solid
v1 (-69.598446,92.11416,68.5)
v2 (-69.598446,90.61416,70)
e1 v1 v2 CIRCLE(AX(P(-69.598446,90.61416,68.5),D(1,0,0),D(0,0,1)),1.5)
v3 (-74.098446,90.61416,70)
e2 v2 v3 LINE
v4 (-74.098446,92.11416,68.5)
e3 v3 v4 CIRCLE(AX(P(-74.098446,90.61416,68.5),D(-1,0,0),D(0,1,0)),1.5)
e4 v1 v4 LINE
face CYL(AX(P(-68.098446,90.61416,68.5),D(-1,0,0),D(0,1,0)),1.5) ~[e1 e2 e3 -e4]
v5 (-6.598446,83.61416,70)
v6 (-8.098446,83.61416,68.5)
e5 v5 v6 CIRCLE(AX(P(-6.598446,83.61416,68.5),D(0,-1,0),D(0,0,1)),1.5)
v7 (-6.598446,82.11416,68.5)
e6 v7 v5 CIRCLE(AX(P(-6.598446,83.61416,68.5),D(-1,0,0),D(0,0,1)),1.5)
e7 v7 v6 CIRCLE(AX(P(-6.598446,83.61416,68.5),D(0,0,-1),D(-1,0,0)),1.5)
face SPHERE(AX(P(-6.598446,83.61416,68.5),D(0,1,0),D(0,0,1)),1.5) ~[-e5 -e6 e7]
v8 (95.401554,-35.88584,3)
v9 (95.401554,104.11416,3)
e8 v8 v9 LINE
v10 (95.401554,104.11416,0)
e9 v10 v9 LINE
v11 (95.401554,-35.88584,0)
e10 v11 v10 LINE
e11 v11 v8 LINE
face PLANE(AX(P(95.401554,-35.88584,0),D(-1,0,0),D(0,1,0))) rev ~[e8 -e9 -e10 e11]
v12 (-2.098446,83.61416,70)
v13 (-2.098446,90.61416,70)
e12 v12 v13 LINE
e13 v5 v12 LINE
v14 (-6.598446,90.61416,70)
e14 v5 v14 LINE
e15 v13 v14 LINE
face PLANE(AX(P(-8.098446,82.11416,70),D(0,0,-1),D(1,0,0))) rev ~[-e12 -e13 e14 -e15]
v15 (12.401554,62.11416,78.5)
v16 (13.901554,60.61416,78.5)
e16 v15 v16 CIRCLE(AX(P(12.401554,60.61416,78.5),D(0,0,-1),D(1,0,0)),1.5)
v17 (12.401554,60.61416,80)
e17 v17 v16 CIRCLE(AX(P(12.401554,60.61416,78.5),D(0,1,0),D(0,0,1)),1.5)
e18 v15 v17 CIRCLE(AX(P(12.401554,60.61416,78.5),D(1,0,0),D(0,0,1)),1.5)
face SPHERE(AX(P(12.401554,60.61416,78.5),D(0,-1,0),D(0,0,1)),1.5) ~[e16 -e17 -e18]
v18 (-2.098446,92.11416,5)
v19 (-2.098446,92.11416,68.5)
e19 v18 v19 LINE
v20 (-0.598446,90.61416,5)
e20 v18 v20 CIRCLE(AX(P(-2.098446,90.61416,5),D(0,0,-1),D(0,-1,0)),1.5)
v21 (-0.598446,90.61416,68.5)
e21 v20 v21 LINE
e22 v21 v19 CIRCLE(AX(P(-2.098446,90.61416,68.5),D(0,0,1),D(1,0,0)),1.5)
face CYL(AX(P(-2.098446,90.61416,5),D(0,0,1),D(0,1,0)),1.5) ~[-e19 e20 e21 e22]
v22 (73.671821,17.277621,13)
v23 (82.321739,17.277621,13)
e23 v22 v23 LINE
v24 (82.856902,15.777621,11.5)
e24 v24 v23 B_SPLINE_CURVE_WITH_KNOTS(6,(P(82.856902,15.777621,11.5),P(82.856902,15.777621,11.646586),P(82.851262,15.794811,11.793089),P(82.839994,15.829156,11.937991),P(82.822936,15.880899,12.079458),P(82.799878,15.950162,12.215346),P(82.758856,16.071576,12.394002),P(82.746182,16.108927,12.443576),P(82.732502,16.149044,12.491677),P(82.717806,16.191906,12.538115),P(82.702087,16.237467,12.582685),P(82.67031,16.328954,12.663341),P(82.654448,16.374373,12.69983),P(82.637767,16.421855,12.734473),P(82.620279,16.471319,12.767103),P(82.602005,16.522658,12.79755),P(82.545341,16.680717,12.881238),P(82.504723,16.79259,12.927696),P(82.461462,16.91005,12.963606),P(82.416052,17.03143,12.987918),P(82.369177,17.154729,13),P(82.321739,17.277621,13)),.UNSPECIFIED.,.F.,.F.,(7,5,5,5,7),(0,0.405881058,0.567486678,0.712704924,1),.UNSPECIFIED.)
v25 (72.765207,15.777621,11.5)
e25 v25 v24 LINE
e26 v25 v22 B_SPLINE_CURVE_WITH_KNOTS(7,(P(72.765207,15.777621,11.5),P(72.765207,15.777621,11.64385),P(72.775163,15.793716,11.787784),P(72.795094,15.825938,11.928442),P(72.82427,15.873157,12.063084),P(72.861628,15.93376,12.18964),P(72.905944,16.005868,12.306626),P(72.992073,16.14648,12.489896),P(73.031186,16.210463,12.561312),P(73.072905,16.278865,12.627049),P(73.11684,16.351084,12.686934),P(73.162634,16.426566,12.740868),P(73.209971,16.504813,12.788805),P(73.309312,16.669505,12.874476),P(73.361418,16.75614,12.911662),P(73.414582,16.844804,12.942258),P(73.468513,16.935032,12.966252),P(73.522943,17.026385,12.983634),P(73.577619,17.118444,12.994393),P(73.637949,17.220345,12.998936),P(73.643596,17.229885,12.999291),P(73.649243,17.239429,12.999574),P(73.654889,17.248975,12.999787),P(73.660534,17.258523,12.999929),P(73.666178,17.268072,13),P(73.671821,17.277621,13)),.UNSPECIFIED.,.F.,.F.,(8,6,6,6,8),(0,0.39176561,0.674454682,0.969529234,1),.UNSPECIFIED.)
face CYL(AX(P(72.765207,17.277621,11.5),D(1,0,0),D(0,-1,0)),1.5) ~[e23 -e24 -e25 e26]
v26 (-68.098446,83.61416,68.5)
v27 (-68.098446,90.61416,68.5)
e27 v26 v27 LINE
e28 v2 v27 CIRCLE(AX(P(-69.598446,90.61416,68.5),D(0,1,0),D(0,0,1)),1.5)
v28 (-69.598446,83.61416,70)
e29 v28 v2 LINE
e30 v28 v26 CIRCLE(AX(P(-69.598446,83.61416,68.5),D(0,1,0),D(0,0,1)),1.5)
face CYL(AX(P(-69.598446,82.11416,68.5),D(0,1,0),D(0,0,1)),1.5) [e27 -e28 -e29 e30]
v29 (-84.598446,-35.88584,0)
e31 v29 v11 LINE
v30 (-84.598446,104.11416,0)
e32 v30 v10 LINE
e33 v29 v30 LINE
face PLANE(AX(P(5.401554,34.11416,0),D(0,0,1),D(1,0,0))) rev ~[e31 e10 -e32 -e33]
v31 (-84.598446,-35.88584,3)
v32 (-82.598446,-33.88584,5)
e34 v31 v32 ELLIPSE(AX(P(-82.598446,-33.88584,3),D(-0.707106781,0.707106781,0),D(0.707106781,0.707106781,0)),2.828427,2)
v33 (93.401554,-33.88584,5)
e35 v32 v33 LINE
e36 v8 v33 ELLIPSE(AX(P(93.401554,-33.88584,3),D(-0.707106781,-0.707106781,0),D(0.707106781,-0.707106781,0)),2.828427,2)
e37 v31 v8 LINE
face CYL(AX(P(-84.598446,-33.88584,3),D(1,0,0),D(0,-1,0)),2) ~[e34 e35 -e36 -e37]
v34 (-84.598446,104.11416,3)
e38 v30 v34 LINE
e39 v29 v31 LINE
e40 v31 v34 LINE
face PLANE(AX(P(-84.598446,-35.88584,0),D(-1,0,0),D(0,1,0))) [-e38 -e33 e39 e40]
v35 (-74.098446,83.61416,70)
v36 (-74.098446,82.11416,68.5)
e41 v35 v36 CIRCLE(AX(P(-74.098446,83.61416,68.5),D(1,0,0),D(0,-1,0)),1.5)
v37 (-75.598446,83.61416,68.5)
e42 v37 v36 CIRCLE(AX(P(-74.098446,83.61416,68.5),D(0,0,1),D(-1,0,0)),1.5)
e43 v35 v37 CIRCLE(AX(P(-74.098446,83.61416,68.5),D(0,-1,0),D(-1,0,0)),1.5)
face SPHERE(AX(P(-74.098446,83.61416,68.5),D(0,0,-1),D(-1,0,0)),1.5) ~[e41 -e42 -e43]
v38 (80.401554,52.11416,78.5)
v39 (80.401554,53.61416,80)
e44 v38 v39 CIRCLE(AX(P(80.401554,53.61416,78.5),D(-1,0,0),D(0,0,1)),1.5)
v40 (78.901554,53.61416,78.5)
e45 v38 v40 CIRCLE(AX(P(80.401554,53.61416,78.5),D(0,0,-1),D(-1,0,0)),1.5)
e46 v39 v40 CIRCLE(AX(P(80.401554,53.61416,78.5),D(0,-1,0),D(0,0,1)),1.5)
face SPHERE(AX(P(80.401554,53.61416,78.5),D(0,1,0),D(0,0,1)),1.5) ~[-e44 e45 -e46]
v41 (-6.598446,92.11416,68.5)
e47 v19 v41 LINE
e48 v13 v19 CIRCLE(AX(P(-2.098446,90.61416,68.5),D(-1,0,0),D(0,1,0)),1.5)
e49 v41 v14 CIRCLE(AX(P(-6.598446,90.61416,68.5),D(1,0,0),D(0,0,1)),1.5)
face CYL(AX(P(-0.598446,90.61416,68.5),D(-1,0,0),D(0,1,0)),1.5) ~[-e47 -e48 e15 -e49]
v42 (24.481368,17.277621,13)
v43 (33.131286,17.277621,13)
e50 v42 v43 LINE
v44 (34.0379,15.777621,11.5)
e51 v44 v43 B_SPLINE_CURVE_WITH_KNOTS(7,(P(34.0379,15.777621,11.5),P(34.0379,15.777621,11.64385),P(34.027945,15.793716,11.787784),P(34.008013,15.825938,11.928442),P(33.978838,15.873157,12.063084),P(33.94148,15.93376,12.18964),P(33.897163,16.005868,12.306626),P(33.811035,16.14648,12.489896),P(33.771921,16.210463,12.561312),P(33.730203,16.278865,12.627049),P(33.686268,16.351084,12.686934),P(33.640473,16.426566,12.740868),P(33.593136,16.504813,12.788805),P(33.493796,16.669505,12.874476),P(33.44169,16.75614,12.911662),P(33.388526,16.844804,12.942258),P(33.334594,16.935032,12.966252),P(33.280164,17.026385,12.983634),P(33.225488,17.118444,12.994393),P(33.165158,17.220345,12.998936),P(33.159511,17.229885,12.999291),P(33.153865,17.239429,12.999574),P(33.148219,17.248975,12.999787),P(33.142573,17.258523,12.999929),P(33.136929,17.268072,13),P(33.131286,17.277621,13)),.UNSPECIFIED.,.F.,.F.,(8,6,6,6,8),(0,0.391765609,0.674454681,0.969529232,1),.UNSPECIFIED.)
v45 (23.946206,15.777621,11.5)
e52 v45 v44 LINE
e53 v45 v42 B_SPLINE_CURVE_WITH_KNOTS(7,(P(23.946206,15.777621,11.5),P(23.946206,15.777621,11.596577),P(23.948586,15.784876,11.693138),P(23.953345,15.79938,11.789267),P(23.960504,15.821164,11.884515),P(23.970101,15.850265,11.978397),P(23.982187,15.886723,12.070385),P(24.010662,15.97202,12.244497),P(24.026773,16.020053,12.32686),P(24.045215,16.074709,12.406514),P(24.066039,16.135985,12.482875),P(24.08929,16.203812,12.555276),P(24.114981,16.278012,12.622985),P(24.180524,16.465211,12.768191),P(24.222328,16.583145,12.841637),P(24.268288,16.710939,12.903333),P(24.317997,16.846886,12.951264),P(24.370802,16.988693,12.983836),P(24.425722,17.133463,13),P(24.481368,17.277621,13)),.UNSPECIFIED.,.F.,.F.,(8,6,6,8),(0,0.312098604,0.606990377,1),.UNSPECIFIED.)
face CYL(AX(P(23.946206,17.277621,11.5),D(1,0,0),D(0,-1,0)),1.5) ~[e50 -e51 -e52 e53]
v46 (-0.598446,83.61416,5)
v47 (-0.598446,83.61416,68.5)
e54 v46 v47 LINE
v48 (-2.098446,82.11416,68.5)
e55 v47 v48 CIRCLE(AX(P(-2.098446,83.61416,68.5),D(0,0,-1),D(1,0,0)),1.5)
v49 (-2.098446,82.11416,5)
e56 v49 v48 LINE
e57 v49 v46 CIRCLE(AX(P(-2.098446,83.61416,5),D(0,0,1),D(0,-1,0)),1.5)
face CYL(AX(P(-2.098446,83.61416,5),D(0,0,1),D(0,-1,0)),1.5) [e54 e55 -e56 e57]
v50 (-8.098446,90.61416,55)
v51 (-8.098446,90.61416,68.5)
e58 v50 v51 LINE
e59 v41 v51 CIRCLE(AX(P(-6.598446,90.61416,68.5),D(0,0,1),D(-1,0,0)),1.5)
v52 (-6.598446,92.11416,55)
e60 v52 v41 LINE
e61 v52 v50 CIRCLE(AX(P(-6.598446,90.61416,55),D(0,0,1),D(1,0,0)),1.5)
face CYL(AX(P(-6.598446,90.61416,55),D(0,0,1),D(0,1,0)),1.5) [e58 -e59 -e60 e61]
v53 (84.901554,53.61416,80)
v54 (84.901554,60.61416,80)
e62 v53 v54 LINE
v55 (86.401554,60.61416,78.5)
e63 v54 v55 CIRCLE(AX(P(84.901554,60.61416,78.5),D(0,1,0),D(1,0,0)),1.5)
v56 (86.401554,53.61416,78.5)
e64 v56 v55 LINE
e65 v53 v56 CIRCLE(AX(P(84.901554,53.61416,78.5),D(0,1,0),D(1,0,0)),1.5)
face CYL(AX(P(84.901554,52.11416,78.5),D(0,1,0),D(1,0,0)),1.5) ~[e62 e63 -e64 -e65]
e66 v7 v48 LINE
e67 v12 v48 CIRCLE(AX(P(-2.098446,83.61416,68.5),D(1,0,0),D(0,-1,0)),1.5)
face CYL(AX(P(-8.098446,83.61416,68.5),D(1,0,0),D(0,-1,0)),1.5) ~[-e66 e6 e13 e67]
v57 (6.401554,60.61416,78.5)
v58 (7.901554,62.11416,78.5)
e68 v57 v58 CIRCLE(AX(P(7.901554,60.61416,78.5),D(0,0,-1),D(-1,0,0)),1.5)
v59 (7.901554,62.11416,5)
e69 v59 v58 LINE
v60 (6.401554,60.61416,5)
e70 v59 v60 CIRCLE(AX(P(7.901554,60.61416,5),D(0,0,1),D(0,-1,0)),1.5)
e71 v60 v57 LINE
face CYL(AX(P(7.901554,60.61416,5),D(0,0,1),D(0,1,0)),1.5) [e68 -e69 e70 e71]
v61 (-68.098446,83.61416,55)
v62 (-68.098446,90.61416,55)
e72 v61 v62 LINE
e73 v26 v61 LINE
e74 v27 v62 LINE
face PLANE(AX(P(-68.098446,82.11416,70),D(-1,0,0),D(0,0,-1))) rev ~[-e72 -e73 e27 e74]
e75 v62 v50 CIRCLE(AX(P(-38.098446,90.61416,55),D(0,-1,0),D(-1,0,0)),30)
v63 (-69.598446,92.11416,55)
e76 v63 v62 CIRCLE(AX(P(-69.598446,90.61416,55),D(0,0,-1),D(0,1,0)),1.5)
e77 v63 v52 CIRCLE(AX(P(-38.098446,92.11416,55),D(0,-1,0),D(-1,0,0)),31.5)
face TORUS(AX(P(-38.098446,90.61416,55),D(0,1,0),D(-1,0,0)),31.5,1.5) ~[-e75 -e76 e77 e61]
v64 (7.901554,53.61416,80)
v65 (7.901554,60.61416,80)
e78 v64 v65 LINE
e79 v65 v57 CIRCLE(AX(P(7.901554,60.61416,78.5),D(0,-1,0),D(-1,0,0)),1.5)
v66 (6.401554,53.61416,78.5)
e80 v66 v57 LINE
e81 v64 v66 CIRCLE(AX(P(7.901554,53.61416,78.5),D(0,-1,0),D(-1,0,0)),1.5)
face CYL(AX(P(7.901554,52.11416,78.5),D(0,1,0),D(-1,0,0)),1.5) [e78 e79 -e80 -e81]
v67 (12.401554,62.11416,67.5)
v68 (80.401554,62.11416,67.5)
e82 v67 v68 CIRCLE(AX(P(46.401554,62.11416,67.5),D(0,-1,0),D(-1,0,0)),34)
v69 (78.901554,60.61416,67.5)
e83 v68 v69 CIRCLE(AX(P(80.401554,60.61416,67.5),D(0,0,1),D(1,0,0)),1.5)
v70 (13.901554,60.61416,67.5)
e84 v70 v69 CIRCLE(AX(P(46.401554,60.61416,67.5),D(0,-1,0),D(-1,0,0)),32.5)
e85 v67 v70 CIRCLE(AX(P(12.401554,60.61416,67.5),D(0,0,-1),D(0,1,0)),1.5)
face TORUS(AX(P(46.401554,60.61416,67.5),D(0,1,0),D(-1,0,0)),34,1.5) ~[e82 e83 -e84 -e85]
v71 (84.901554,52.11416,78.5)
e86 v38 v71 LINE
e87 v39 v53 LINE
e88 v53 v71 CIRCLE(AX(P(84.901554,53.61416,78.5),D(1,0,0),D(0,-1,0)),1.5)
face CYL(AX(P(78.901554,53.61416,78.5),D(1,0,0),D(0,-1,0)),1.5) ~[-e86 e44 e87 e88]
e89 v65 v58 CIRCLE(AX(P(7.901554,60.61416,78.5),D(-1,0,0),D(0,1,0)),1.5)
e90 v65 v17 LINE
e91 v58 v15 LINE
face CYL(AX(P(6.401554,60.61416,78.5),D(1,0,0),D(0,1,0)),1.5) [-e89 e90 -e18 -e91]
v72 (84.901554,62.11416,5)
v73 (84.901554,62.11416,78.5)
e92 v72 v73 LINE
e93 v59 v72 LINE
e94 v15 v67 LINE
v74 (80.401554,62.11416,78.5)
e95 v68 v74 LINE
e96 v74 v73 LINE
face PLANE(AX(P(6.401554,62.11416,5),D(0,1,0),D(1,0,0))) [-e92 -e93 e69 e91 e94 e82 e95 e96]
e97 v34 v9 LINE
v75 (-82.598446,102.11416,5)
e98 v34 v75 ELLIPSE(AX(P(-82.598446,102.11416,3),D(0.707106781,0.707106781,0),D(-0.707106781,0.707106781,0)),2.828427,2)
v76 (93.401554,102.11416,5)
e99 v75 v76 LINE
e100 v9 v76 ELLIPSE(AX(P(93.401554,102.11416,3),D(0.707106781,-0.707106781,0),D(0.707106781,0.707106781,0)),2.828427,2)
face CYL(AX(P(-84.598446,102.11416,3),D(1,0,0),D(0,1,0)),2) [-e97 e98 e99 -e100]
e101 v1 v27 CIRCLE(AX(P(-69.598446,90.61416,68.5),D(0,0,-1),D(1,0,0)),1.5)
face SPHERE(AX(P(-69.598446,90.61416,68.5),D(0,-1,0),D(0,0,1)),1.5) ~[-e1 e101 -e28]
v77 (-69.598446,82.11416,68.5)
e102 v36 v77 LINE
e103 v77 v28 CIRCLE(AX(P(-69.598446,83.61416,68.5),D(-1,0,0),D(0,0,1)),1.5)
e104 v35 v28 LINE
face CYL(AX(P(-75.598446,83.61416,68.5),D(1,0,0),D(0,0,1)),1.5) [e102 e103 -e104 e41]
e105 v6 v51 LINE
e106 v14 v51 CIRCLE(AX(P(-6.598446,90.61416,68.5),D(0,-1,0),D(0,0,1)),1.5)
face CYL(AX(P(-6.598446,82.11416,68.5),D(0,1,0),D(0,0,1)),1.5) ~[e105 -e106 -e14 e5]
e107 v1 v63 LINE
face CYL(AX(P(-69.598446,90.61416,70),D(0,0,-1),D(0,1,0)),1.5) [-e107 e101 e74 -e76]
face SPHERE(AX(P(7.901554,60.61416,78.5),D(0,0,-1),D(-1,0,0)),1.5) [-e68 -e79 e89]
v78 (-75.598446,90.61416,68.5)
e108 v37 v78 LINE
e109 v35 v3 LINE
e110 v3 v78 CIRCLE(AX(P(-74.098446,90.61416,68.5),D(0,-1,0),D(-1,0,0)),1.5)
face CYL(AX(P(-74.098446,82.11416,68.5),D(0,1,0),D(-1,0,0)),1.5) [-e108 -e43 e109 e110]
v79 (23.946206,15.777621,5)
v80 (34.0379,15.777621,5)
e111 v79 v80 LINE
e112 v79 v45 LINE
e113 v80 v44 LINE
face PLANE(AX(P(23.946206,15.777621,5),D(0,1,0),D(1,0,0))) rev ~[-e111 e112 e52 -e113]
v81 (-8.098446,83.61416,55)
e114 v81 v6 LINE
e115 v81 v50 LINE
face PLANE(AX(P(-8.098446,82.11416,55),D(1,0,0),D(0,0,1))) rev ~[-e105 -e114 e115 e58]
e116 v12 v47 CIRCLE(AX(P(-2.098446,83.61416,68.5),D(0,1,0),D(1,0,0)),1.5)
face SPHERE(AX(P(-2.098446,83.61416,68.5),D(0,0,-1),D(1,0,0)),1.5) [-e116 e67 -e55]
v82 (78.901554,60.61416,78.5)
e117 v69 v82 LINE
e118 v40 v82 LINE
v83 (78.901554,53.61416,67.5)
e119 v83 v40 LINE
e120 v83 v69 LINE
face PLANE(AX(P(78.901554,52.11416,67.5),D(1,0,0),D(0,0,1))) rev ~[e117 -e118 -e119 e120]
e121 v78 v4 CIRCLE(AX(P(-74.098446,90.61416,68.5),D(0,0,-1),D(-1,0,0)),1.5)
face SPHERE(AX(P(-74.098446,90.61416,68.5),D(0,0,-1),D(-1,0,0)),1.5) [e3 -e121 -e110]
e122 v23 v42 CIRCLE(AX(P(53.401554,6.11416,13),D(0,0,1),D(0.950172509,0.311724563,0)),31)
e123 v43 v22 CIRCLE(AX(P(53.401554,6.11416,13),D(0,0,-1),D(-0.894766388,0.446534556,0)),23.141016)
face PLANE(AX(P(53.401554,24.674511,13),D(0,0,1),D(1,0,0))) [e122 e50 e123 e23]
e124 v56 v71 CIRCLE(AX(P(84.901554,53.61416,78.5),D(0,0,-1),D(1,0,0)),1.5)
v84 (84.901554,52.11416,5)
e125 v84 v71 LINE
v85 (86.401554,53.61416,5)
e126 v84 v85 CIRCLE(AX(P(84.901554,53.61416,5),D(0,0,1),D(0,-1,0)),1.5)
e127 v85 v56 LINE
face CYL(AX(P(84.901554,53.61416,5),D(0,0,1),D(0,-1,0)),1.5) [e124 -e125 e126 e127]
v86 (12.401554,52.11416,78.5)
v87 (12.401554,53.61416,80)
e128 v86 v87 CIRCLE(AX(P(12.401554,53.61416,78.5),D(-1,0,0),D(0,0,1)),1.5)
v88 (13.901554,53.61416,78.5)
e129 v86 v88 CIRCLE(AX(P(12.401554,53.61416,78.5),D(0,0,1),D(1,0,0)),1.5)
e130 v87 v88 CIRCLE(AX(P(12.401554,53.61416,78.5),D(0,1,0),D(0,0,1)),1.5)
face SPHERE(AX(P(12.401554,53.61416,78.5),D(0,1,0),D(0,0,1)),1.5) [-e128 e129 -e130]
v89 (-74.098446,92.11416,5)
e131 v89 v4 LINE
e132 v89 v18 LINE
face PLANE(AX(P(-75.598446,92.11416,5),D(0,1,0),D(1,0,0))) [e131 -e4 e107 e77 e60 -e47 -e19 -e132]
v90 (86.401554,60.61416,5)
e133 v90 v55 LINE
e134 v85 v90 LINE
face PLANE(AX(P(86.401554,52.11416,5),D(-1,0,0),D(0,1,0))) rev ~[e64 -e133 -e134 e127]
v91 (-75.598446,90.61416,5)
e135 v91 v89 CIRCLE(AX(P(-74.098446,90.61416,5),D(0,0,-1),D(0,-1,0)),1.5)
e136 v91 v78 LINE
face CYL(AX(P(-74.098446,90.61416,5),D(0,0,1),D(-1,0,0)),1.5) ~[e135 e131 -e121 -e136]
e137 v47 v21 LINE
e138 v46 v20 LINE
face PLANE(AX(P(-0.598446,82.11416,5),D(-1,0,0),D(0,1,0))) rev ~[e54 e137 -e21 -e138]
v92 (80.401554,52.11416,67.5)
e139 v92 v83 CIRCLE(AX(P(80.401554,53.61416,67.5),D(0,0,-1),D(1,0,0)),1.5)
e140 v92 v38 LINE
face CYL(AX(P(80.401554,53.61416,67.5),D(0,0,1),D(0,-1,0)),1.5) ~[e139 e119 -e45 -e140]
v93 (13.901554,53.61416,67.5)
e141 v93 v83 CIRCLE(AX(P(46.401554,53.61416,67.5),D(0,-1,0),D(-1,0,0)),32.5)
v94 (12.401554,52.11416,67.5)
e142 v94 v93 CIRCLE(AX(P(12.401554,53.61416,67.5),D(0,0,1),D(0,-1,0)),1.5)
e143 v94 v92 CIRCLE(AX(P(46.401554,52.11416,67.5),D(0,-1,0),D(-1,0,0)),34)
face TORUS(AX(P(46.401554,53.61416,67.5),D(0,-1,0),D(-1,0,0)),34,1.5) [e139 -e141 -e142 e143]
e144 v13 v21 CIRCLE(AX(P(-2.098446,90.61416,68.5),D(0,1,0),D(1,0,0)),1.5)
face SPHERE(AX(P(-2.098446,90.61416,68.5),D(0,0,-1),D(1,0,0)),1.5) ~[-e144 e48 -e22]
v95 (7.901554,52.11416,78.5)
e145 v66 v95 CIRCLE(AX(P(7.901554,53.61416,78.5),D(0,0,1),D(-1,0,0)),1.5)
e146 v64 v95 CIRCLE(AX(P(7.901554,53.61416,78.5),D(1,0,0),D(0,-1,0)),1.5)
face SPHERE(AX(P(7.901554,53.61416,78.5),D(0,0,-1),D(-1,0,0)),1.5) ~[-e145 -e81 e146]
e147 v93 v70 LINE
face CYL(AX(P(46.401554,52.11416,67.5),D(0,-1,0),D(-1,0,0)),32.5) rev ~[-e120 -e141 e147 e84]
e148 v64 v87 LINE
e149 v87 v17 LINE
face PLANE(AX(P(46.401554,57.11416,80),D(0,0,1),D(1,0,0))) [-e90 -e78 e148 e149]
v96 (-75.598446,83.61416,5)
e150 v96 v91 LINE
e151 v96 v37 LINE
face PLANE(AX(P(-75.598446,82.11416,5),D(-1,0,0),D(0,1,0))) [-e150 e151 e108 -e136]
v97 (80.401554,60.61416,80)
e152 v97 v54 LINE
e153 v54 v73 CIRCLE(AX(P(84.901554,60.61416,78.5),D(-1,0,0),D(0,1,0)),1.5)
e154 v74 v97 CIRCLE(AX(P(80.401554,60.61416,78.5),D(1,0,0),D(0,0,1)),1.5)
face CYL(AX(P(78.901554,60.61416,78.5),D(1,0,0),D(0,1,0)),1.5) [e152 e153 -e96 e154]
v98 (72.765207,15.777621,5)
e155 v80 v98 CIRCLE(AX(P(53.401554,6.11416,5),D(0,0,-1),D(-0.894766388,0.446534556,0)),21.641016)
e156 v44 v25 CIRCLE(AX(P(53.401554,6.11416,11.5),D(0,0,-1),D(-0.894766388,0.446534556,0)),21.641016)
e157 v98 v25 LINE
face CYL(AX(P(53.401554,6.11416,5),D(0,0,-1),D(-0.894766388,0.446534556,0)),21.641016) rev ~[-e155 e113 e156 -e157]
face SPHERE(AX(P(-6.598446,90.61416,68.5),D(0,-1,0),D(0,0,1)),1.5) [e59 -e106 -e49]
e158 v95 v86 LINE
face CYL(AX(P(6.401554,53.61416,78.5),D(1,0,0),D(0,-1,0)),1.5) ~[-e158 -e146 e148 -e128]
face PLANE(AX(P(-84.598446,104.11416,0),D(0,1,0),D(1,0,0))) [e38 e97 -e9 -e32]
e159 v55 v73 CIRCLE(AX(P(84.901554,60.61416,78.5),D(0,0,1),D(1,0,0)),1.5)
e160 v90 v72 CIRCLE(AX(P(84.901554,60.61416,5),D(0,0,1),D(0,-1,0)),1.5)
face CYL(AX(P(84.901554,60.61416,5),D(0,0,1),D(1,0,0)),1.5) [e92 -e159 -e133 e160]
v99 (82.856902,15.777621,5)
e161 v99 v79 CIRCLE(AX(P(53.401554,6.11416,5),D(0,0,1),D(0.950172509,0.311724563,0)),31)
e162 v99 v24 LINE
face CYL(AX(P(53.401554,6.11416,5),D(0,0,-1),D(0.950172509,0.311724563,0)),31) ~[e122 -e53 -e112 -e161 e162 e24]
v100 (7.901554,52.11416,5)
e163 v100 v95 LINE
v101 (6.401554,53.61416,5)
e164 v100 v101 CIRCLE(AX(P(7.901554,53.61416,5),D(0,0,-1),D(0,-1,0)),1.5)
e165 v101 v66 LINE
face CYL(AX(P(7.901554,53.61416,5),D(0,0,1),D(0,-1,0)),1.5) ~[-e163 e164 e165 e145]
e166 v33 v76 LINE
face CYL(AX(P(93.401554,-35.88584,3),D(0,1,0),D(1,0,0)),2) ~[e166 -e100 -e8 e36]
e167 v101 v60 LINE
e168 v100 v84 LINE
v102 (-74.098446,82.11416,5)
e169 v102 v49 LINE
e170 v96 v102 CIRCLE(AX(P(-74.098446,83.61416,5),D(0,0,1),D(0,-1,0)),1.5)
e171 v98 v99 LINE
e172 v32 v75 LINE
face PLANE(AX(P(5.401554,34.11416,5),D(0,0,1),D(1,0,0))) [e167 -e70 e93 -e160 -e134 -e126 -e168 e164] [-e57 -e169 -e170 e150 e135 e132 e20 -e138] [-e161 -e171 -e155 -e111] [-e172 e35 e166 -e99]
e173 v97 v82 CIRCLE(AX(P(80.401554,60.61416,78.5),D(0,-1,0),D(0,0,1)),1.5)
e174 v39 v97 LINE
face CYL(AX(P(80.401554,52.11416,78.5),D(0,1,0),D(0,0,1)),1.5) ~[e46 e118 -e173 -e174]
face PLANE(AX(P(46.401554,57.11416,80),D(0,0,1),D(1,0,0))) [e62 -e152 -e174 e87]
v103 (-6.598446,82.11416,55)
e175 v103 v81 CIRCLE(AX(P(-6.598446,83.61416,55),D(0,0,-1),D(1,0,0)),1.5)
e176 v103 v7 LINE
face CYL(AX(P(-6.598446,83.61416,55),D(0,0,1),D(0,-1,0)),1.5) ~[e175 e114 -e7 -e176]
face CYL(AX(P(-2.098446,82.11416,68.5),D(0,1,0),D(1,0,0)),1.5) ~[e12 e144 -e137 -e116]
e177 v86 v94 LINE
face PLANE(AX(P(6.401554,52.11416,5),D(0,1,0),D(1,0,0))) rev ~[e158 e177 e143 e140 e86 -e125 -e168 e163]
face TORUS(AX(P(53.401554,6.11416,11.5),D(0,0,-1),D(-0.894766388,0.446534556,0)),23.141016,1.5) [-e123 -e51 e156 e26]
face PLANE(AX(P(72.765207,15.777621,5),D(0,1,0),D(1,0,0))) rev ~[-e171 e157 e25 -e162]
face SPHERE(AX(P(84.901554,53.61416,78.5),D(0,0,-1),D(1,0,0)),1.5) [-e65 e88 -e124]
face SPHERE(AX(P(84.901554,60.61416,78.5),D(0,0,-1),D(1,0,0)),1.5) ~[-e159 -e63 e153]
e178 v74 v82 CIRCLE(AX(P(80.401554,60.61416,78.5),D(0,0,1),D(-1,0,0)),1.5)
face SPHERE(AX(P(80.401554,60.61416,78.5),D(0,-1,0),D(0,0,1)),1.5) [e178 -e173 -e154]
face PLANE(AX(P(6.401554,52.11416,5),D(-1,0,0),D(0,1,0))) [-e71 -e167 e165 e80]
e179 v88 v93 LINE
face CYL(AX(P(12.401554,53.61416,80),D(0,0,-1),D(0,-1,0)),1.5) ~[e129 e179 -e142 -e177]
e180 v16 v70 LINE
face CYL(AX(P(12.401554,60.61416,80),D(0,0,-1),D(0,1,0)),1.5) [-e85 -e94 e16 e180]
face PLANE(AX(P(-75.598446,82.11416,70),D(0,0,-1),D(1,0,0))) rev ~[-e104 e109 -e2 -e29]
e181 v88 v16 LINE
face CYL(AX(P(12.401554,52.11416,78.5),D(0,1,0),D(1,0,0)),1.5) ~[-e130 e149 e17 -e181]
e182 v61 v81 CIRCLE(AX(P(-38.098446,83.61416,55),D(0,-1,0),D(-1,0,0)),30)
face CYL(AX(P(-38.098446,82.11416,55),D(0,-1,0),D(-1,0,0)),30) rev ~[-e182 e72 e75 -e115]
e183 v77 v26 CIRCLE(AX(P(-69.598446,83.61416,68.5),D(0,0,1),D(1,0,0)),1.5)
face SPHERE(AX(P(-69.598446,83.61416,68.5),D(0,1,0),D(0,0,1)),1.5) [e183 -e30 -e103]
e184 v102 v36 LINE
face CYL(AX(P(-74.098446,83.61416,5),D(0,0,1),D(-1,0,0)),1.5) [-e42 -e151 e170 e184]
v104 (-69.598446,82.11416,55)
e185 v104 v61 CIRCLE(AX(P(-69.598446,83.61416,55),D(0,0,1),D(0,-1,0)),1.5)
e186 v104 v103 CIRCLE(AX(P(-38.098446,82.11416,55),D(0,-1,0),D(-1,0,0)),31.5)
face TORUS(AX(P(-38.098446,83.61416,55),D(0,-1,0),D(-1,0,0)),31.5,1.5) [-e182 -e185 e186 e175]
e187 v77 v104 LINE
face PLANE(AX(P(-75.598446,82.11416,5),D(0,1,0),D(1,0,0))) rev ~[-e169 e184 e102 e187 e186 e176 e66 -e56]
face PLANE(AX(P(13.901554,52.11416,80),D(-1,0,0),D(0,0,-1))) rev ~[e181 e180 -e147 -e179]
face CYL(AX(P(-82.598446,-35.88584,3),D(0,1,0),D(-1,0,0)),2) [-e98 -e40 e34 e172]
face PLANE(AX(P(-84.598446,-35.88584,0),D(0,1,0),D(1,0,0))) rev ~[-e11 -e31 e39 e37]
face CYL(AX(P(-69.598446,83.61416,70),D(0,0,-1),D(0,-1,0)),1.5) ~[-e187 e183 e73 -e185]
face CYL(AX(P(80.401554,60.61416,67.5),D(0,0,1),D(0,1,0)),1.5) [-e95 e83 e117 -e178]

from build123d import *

# Parameters (mm, degrees)
F5_W      = 180
F5_H      = 140
F0_DEPTH  = 5
F1_R      = 2
F7_DEPTH  = 8
F8_W      = 75
F8_H      = 10
F8_W_2    = 80
F9_DEPTH  = 75
F10_DEPTH = 75
F11_DEPTH = 25
F4_DEPTH  = 25
F12_R     = 1.5


with BuildPart() as f0:
    # F5 (on Top) → F0 (new body)
    with BuildSketch(Plane.XY):
        with Locations((5.4015538096, 34.1141599765)):
            Rectangle(F5_W, F5_H)
    extrude(amount=F0_DEPTH)

    # F1
    f1_edges = [f0.edges().sort_by_distance(p)[0] for p in [
        (5.401554, -35.88584, 5),
        (95.401554, 34.11416, 5),
        (-84.598446, 34.11416, 5),
        (5.401554, 104.11416, 5),
    ]]
    fillet(f1_edges, radius=F1_R)

    # F6 (on face) → F7 (join)
    with BuildSketch(Plane.XY.offset(5)):
        with BuildLine():
            ThreePointArc((82.8569015917, 15.7776214182), (53.4015538096, 37.1141599765), (23.9462060275, 15.7776214182))
            Line((23.9462060275, 15.7776214182), (34.0379001592, 15.7776214182))
            ThreePointArc((34.0379001592, 15.7776214182), (53.4015538096, 27.7551758891), (72.7652074601, 15.7776214182))
            Line((72.7652074601, 15.7776214182), (82.8569015917, 15.7776214182))
        make_face()
    extrude(amount=F7_DEPTH)

    # F8 (on face) → F9 (join)
    with BuildSketch(Plane.XY.offset(5)):
        with Locations((-38.0984461904, 87.1141599765)):
            Rectangle(F8_W, F8_H)
        with Locations((46.4015538096, 57.1141599765)):
            Rectangle(F8_W_2, F8_H)
    extrude(amount=F9_DEPTH)

    # F8 (on face) → F10 (join)
    with BuildSketch(Plane.XY.offset(5)):
        with Locations((-38.0984461904, 87.1141599765)):
            Rectangle(F8_W, F8_H)
        with Locations((46.4015538096, 57.1141599765)):
            Rectangle(F8_W_2, F8_H)
    extrude(amount=F10_DEPTH)

    # F2 (on face) → F11 (cut)
    with BuildSketch(Plane.XZ.offset(-52.1141599765)):
        with BuildLine():
            Line((13.9015538096, 80), (13.9015538096, 67.5))
            ThreePointArc((13.9015538096, 67.5), (46.4015538096, 35), (78.9015538096, 67.5))
            Line((78.9015538096, 67.5), (78.9015538096, 80))
            Line((78.9015538096, 80), (13.9015538096, 80))
        make_face()
    extrude(amount=-F11_DEPTH, mode=Mode.SUBTRACT)

    # F3 (on face) → F4 (cut)
    with BuildSketch(Plane.XZ.offset(-82.1141599765)):
        with BuildLine():
            Line((-68.0984461904, 70), (-68.0984461904, 55))
            ThreePointArc((-68.0984461904, 55), (-38.0984461904, 25), (-8.0984461904, 55))
            Line((-8.0984461904, 55), (-8.0984461904, 70))
            Line((-8.0984461904, 70), (-0.5984461904, 70))
            Line((-0.5984461904, 70), (-0.5984461904, 80))
            Line((-0.5984461904, 80), (-75.5984461904, 80))
            Line((-75.5984461904, 80), (-75.5984461904, 70))
            Line((-75.5984461904, 70), (-68.0984461904, 70))
        make_face()
    extrude(amount=-F4_DEPTH, mode=Mode.SUBTRACT)

    # F12
    f12_edges = [f0.edges().sort_by_distance(p)[0] for p in [
        (86.401554, 52.11416, 42.5),
        (86.401554, 62.11416, 42.5),
        (78.901554, 57.11416, 80),
        (13.901554, 57.11416, 80),
        (-8.098446, 87.11416, 70),
        (-68.098446, 87.11416, 70),
        (6.401554, 52.11416, 42.5),
        (6.401554, 62.11416, 42.5),
        (-75.598446, 82.11416, 37.5),
        (-75.598446, 92.11416, 37.5),
        (-0.598446, 82.11416, 37.5),
        (-0.598446, 92.11416, 37.5),
        (86.401554, 57.11416, 80),
        (6.401554, 57.11416, 80),
        (-0.598446, 87.11416, 70),
        (-75.598446, 87.11416, 70),
        (10.151554, 52.11416, 80),
        (-4.348446, 82.11416, 70),
        (-71.848446, 92.11416, 70),
        (-4.348446, 92.11416, 70),
        (-71.848446, 82.11416, 70),
        (10.151554, 62.11416, 80),
        (82.651554, 52.11416, 80),
        (46.401554, 52.11416, 35),
        (-38.098446, 82.11416, 25),
        (82.651554, 62.11416, 80),
        (46.401554, 62.11416, 35),
        (-38.098446, 92.11416, 25),
        (53.401554, 27.755176, 13),
        (28.992053, 15.777621, 13),
        (77.811055, 15.777621, 13),
    ]]
    fillet(f12_edges, radius=F12_R)


solid = f0.part
